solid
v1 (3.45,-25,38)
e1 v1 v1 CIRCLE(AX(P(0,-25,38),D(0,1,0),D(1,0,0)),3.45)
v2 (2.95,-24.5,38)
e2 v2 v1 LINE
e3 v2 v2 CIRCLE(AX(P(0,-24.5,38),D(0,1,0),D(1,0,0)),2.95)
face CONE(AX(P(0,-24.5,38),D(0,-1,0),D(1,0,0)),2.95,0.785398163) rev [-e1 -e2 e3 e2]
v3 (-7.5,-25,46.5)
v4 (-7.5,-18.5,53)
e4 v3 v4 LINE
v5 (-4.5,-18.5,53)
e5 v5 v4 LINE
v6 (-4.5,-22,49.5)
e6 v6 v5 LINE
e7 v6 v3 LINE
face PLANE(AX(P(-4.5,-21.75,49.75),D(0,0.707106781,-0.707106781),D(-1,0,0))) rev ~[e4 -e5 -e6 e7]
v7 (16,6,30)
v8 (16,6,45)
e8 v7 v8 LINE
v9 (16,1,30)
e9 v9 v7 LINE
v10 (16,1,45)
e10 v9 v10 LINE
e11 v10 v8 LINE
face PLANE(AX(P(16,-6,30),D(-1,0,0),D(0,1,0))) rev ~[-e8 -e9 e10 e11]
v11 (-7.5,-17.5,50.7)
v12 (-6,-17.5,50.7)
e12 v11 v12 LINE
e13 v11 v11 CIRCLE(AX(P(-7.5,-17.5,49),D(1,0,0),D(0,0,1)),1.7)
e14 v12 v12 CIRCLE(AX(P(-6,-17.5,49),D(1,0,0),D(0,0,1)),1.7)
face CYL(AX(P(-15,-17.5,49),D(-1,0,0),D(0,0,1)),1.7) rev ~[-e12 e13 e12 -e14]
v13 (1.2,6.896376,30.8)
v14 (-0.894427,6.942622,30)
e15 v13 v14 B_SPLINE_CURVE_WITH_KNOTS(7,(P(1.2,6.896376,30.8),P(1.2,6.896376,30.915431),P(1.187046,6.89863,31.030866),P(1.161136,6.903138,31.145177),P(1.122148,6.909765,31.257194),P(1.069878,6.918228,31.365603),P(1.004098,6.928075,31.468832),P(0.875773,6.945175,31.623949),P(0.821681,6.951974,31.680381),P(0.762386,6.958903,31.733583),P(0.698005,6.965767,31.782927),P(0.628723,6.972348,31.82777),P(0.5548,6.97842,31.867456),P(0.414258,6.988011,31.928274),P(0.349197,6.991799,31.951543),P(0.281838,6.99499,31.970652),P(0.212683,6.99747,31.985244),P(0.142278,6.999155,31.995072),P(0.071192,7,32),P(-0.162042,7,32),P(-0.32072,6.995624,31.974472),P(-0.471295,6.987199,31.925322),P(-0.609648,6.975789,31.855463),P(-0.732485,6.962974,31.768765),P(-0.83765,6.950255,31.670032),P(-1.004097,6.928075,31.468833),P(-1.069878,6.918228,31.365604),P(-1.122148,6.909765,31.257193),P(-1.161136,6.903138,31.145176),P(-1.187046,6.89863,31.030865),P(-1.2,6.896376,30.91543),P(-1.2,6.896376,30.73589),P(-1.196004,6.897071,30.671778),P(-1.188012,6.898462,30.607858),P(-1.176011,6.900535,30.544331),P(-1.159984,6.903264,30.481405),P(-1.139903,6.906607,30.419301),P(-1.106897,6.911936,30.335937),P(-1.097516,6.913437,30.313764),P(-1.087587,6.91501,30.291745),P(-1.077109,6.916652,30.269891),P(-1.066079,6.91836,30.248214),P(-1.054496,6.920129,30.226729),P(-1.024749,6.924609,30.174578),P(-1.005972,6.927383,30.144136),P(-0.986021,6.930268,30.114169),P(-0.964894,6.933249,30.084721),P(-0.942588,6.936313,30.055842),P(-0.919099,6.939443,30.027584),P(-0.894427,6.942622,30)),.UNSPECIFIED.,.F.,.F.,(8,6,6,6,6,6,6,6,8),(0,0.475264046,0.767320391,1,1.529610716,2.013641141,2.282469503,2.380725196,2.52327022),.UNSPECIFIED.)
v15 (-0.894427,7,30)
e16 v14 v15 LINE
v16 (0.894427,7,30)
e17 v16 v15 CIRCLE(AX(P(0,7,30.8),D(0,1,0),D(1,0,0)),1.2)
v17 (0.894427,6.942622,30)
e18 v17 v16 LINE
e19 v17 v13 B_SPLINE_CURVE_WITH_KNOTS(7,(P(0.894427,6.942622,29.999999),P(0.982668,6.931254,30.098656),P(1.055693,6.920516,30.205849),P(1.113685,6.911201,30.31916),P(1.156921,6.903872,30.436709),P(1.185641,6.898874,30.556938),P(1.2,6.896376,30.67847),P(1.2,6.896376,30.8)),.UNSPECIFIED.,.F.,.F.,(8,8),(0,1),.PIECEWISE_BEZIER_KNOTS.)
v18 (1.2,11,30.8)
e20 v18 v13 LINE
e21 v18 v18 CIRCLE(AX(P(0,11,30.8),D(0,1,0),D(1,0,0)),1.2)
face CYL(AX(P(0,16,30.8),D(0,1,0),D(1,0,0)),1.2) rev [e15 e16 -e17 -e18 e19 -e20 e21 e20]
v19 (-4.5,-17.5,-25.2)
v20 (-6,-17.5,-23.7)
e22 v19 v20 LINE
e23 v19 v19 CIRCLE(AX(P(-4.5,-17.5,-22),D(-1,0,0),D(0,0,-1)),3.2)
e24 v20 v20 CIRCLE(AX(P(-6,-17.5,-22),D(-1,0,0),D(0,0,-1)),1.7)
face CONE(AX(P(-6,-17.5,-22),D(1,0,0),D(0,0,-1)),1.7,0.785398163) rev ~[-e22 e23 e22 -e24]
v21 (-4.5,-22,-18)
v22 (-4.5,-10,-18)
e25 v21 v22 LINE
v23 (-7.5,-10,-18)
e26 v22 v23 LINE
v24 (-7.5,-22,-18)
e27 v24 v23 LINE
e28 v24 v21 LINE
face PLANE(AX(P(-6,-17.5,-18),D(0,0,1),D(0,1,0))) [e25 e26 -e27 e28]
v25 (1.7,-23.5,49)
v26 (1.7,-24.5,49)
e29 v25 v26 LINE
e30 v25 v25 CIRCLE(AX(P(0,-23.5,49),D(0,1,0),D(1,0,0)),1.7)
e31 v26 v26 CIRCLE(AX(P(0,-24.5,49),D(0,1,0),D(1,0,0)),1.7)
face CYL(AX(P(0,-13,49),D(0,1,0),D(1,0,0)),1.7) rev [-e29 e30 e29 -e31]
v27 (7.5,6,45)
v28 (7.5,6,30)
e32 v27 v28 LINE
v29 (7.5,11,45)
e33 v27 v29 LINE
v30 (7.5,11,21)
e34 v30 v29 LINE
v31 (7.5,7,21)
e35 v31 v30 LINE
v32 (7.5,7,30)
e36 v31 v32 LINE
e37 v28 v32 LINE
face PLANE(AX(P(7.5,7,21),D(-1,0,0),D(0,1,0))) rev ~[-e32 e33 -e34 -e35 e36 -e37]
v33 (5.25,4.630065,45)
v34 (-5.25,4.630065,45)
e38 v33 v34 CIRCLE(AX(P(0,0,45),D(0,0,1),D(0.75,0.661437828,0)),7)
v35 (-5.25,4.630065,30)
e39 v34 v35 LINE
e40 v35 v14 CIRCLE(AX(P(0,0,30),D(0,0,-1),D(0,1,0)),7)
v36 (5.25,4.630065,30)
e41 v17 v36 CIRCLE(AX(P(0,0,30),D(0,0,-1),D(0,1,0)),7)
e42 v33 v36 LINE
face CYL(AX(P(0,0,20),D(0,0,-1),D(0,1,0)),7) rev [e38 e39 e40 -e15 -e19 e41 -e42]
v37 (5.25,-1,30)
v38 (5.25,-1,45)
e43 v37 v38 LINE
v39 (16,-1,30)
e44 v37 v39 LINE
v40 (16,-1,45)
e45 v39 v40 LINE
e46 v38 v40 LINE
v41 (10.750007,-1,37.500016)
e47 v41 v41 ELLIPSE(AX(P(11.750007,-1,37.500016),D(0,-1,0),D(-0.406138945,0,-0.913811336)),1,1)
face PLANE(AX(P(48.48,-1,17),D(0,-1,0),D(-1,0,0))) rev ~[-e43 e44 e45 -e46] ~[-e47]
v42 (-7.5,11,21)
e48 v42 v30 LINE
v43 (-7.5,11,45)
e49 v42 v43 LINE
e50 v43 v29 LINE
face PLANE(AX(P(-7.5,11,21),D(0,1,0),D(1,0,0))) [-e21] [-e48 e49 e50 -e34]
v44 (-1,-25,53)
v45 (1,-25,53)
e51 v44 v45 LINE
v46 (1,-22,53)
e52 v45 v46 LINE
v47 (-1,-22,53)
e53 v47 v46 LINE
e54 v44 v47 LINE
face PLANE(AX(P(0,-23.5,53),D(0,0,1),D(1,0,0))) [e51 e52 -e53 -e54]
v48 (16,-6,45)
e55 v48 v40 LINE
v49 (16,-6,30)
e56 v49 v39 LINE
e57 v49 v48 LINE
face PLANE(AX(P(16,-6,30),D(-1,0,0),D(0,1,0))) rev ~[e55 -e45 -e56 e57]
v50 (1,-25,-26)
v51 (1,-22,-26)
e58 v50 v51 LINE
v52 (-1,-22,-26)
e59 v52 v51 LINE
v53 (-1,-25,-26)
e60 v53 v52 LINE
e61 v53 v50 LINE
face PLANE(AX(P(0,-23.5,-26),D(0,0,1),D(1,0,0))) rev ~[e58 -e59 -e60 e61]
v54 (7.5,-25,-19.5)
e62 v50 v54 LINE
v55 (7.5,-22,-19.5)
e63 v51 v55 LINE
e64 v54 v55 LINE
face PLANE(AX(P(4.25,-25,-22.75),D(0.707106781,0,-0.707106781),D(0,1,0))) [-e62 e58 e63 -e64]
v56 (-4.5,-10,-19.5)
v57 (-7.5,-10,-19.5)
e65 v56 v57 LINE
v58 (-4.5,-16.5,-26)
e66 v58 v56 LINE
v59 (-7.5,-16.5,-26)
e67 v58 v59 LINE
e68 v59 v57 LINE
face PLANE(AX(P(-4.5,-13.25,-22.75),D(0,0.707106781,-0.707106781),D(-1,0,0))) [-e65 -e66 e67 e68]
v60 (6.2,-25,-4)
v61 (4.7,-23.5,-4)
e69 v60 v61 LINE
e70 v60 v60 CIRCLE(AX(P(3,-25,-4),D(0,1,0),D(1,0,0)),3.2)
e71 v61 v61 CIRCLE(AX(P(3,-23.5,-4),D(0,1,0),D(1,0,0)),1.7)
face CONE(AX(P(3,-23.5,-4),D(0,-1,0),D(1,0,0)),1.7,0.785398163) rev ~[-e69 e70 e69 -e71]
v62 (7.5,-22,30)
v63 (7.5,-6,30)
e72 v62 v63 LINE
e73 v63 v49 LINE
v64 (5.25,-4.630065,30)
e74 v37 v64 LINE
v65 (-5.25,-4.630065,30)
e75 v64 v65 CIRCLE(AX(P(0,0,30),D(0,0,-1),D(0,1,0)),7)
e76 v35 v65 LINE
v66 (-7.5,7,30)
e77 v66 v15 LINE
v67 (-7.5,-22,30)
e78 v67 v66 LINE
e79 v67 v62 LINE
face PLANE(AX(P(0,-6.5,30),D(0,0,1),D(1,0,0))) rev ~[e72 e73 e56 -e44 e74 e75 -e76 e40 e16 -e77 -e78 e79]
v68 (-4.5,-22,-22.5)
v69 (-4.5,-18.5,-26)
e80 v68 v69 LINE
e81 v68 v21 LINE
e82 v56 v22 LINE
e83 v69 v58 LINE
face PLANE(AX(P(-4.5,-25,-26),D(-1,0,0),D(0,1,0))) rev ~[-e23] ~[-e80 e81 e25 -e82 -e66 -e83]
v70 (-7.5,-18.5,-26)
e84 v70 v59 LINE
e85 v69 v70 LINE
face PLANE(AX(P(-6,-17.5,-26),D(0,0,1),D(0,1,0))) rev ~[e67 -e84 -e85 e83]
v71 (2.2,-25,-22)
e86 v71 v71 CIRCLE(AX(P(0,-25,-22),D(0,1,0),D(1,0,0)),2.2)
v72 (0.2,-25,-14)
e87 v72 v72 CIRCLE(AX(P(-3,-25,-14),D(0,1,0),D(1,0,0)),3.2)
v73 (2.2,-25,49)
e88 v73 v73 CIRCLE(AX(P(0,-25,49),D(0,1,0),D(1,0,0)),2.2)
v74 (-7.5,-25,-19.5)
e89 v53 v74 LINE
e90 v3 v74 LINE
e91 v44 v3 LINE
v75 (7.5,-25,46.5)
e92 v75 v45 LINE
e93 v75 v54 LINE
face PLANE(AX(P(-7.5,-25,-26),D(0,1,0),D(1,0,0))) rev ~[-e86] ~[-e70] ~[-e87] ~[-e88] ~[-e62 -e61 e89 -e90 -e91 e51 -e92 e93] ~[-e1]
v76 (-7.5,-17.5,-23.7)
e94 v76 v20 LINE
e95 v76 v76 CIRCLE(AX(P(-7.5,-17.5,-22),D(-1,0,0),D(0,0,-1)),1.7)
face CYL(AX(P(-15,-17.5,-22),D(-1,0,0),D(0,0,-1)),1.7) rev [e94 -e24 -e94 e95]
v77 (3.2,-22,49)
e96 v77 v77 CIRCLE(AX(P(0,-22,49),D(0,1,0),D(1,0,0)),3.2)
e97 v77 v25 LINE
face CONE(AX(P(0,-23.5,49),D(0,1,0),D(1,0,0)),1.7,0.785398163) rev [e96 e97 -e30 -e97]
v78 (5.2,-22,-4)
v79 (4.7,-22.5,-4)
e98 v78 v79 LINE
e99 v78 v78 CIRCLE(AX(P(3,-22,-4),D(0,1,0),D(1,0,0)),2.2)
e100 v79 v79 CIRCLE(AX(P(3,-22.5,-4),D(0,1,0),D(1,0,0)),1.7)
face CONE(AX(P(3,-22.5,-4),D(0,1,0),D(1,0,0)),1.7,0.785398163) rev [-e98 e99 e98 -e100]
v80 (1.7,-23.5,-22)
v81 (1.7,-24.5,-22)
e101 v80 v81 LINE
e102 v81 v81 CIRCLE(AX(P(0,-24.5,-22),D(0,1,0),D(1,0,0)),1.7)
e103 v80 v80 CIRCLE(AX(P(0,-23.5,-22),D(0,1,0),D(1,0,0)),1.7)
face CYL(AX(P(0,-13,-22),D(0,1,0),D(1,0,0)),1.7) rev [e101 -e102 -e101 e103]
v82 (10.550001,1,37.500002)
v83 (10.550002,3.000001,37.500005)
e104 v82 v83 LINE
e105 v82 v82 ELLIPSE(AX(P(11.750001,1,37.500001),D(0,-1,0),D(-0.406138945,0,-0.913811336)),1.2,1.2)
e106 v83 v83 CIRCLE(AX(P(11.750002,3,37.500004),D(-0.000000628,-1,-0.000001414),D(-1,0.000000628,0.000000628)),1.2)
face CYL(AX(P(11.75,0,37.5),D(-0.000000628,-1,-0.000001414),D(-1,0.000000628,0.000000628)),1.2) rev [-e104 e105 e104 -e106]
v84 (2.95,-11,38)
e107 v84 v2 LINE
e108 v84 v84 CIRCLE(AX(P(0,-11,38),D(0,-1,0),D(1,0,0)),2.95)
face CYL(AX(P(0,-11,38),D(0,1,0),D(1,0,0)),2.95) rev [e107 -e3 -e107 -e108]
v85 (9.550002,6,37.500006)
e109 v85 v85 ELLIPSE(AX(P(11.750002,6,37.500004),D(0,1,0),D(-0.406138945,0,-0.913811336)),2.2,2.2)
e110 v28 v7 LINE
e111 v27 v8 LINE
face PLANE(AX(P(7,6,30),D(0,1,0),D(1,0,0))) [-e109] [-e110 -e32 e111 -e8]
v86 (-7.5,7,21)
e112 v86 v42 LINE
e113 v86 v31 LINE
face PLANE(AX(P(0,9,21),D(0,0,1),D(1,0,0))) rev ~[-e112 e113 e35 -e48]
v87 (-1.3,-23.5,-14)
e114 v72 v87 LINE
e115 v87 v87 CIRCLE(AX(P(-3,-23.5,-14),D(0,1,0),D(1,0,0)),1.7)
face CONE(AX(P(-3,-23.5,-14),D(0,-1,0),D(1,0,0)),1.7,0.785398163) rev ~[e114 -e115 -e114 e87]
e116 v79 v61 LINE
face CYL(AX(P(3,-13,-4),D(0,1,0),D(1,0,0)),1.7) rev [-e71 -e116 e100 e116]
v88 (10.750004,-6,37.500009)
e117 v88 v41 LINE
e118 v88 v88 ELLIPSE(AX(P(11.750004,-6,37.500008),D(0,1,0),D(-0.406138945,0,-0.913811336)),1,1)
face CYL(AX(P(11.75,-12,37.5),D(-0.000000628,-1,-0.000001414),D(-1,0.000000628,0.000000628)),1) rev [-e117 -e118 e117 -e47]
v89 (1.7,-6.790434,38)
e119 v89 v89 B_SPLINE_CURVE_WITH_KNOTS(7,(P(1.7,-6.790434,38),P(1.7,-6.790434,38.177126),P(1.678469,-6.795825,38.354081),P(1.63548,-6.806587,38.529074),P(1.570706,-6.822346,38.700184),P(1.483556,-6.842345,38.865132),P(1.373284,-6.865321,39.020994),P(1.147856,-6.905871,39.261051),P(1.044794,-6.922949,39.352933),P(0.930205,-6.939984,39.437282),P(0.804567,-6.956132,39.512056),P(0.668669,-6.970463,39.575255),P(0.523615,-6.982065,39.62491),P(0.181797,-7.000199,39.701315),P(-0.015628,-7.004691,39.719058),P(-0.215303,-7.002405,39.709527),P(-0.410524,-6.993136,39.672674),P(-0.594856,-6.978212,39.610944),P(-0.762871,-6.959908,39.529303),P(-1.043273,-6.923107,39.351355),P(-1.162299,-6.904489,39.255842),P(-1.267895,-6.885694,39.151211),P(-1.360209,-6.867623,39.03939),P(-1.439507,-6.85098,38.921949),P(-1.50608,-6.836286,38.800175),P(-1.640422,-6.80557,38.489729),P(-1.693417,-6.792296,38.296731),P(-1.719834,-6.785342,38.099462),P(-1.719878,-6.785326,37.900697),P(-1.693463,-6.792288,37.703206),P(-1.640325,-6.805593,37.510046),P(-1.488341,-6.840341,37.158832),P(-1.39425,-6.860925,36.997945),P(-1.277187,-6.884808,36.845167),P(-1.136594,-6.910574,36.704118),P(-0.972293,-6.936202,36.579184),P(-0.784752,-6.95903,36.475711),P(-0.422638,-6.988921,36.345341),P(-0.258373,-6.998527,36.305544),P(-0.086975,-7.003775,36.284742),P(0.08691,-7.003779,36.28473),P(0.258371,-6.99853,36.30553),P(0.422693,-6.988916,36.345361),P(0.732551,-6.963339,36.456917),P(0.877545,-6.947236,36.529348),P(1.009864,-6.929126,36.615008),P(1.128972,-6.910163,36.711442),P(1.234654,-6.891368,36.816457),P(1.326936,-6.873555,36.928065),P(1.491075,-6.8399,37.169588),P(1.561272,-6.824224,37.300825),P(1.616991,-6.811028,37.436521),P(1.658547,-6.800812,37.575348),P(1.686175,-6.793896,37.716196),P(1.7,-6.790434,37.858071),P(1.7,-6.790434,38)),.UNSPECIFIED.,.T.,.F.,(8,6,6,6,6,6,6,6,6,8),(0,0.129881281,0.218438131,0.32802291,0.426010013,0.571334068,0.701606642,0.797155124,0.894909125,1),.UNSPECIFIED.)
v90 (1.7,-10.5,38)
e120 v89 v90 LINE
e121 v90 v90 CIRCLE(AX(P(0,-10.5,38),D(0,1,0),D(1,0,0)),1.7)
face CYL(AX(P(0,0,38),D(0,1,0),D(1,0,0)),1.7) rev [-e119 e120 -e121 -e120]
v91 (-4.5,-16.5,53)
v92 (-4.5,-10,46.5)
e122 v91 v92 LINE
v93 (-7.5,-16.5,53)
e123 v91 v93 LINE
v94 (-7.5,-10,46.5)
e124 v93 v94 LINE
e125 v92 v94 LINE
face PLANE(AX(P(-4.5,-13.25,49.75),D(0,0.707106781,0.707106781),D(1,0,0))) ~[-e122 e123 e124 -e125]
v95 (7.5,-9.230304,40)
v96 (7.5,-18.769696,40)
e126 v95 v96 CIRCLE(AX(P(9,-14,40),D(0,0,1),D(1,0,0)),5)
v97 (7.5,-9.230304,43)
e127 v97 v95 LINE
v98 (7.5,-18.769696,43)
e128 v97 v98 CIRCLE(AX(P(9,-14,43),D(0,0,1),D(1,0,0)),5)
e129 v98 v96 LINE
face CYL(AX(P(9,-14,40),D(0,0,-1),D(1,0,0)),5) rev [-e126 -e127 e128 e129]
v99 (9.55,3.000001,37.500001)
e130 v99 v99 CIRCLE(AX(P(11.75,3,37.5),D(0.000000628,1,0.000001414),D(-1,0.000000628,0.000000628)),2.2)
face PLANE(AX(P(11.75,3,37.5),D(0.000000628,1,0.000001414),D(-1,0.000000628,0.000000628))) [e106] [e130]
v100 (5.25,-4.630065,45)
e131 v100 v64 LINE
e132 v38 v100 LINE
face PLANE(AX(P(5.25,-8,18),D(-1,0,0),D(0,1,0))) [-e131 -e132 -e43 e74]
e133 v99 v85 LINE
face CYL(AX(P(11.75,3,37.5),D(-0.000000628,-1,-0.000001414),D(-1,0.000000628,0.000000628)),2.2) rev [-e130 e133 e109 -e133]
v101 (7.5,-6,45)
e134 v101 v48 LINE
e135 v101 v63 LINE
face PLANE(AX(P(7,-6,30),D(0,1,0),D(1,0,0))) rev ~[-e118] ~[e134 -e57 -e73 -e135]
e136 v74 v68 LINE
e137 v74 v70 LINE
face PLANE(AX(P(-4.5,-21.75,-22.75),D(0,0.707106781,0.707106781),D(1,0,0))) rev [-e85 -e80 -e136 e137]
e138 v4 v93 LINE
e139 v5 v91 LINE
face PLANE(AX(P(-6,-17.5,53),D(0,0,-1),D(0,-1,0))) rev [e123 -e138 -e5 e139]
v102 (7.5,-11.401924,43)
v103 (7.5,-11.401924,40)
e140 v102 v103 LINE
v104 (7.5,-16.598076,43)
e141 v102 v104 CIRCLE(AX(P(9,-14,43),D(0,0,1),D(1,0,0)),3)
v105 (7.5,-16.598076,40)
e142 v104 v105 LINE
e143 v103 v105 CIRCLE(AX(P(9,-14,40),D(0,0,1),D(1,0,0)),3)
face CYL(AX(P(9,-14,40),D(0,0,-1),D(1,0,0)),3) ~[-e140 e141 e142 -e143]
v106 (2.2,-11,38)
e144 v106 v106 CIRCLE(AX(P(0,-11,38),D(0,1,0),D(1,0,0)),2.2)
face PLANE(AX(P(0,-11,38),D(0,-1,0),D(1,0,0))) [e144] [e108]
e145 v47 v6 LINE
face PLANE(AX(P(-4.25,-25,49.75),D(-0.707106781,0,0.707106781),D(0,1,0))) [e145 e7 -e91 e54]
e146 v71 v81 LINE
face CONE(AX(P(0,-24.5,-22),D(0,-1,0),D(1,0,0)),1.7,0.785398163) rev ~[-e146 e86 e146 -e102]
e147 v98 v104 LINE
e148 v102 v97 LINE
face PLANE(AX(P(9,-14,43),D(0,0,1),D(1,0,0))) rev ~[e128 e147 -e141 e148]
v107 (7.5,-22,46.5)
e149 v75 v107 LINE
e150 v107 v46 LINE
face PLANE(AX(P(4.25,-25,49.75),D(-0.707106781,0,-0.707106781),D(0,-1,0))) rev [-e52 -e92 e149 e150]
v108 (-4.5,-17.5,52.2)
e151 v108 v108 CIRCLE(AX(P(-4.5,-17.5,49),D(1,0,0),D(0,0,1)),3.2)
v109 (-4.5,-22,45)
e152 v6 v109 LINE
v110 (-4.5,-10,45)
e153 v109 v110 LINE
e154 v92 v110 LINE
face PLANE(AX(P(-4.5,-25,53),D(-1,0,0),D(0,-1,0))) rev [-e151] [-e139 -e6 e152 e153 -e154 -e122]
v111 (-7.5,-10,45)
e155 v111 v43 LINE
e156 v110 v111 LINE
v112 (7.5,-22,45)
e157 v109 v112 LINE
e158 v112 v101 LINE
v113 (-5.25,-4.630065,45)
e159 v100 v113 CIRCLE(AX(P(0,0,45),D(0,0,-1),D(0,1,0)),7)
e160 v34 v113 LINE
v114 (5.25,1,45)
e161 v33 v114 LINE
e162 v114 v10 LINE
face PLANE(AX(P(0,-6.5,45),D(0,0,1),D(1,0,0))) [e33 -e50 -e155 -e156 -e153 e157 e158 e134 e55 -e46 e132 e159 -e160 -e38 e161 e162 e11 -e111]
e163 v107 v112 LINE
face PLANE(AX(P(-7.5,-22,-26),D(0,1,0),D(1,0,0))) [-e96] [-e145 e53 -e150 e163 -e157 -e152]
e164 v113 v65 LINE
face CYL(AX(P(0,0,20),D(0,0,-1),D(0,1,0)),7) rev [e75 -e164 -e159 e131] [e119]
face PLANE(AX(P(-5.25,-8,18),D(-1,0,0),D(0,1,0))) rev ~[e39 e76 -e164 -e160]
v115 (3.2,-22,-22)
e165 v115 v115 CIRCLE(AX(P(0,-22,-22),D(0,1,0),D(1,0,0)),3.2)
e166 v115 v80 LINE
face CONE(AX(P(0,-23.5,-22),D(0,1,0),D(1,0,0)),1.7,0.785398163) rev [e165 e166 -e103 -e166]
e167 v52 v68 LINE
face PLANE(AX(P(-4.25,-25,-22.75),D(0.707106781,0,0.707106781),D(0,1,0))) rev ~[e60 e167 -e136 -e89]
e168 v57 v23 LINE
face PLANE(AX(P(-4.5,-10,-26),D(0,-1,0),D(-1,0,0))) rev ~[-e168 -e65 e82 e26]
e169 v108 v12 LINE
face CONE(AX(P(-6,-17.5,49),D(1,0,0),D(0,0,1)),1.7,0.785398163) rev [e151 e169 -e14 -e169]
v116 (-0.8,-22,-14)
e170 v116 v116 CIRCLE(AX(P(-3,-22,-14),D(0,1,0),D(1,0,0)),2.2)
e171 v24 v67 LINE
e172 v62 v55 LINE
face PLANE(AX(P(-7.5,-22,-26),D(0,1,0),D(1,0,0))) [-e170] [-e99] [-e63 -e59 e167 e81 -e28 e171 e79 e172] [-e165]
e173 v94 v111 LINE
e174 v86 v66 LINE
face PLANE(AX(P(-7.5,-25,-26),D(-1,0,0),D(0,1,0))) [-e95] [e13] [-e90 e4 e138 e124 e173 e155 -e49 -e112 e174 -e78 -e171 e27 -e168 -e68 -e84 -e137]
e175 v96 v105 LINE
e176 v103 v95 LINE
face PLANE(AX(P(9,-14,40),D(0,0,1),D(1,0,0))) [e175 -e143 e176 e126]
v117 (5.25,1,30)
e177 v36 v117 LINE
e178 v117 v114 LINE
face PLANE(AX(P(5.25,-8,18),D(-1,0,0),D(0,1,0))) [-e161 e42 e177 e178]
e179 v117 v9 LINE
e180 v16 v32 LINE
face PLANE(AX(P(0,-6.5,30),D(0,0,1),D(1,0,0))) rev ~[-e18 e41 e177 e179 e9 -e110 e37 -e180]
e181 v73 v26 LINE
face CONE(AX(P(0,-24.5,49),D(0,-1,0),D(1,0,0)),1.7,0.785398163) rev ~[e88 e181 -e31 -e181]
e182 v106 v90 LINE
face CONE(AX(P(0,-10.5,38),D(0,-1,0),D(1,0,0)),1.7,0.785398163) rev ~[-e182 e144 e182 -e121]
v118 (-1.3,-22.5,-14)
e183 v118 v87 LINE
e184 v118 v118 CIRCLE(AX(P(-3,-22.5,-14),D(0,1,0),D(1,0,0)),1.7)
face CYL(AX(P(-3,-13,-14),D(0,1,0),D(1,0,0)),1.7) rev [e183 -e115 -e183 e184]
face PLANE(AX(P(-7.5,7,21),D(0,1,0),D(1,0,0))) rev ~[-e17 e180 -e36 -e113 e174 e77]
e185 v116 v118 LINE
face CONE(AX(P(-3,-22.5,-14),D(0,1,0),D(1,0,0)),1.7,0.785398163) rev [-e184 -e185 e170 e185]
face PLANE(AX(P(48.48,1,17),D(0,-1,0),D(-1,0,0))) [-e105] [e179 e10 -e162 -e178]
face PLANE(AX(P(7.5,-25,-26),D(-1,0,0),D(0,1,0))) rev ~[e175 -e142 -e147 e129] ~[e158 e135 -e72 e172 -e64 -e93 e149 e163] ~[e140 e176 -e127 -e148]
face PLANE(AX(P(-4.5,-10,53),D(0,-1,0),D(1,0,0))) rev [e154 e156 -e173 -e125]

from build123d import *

# Parameters (mm, degrees)
CYLINDER102_R               = 1.7
CYLINDER102_DEPTH           = 21
BOX406008019_W              = 15
BOX406008019_H              = 3
BOX406008019_DEPTH          = 8
CHAMFER011_SIZE             = 6.5
CHAMFER012_SIZE             = 1.5
CYLINDER103_R               = 1.7
CYLINDER103_DEPTH           = 21
BOX406008020_W              = 15
BOX406008020_H              = 3
BOX406008020_DEPTH          = 8
CHAMFER013_SIZE             = 6.5
CHAMFER014_SIZE             = 1.5
CYLINDER101_R               = 2.95
CYLINDER101_DEPTH           = 20
CYLINDER100_R               = 1.7
CYLINDER100_DEPTH           = 28
CYLINDER099_R               = 3
CYLINDER099_DEPTH           = 3
CYLINDER098_R               = 5
CYLINDER098_DEPTH           = 3
CYLINDER090_R               = 1.2
CYLINDER090_DEPTH           = 13
CYLINDER091_R               = 1
CYLINDER091_DEPTH           = 12
CYLINDER091_ROLL_ANGLE      = 89.999919
CYLINDER091_PITCH_ANGLE     = -3.6e-05
CYLINDER091_PLACEMENT_ANGLE = 179.999964
CYLINDER069_R               = 2.2
CYLINDER069_DEPTH           = 12
CYLINDER069_ROLL_ANGLE      = 89.999919
CYLINDER069_PITCH_ANGLE     = -3.6e-05
CYLINDER069_PLACEMENT_ANGLE = 179.999964
CYLINDER068_R               = 1.2
CYLINDER068_DEPTH           = 12
CYLINDER068_ROLL_ANGLE      = 89.999919
CYLINDER068_PITCH_ANGLE     = -3.6e-05
CYLINDER068_PLACEMENT_ANGLE = 179.999964
BOX406016_W                 = 49
BOX406016_H                 = 2
BOX406016_DEPTH             = 32
BOX406008016_W              = 9
BOX406008016_H              = 12
BOX406008016_DEPTH          = 15
BOX406017_W                 = 16
BOX406017_H                 = 10.5
BOX406017_DEPTH             = 28
CYLINDER067_R               = 7
CYLINDER067_DEPTH           = 26
COMMON004_PLACEMENT_ANGLE   = 90
BOX406008015_W              = 15
BOX406008015_H              = 31
BOX406008015_DEPTH          = 15
BOX406008017_W              = 15
BOX406008017_H              = 4
BOX406008017_DEPTH          = 24
CYLINDER096_R               = 1.7
CYLINDER096_DEPTH           = 21
BOX_W                       = 15
BOX_H                       = 3
BOX_DEPTH                   = 8
CYLINDER097_R               = 1.7
CYLINDER097_DEPTH           = 21
BOX406008018_W              = 15
BOX406008018_H              = 3
BOX406008018_DEPTH          = 8
CHAMFER005_SIZE             = 1.5
CYLINDER093_R               = 1.7
CYLINDER093_DEPTH           = 21
CYLINDER092_R               = 1.7
CYLINDER092_DEPTH           = 21
BOX406008014_W              = 15
BOX406008014_H              = 3
BOX406008014_DEPTH          = 63
CHAMFER006_SIZE             = 1.5
CHAMFER007_SIZE             = 6.5
CHAMFER009_SIZE             = 0.5
CHAMFER010_SIZE             = 0.5
CHAMFER015_SIZE             = 0.5
CHAMFER016_SIZE             = 0.5


with BuildPart() as cylinder102:
    # Cylinder102 → Cylinder102 (new body)
    with BuildSketch(Plane(origin=(-15, -17.5, -22), x_dir=(0, 0, -1), z_dir=(1, 0, 0))):
        Circle(CYLINDER102_R)
    extrude(amount=CYLINDER102_DEPTH)


with BuildPart() as chamfer012_mount_hole:
    # Box406008019 → Box406008019 (new body)
    with BuildSketch(Plane(origin=(-4.5, -25, -26), x_dir=(0, 1, 0), z_dir=(0, 0, 1))):
        with Locations((7.5, 1.5)):
            Rectangle(BOX406008019_W, BOX406008019_H)
    extrude(amount=BOX406008019_DEPTH)

    # Cut083: cut Cylinder102
    add(cylinder102.part, mode=Mode.SUBTRACT)

    # Chamfer011
    chamfer011_edges = [chamfer012_mount_hole.edges().sort_by_distance(p)[0] for p in [
        (-6, -25, -26),
        (-6, -10, -26),
    ]]
    chamfer(chamfer011_edges, length=CHAMFER011_SIZE)

    # Chamfer012
    chamfer012_edges = [chamfer012_mount_hole.edges().sort_by_distance(p)[0] for p in [
        (-4.5, -17.5, -20.3),
    ]]
    chamfer(chamfer012_edges, length=CHAMFER012_SIZE)


with BuildPart() as cylinder103:
    # Cylinder103 → Cylinder103 (new body)
    with BuildSketch(Plane(origin=(-15, -17.5, -22), x_dir=(0, 0, -1), z_dir=(1, 0, 0))):
        Circle(CYLINDER103_R)
    extrude(amount=CYLINDER103_DEPTH)


with BuildPart() as chamfer012_mount_hole001:
    # Box406008020 → Box406008020 (new body)
    with BuildSketch(Plane(origin=(-4.5, -25, -26), x_dir=(0, 1, 0), z_dir=(0, 0, 1))):
        with Locations((7.5, 1.5)):
            Rectangle(BOX406008020_W, BOX406008020_H)
    extrude(amount=BOX406008020_DEPTH)

    # Cut084: cut Cylinder103
    add(cylinder103.part, mode=Mode.SUBTRACT)

    # Chamfer013
    chamfer013_edges = [chamfer012_mount_hole001.edges().sort_by_distance(p)[0] for p in [
        (-6, -25, -26),
        (-6, -10, -26),
    ]]
    chamfer(chamfer013_edges, length=CHAMFER013_SIZE)

    # Chamfer014
    chamfer014_edges = [chamfer012_mount_hole001.edges().sort_by_distance(p)[0] for p in [
        (-4.5, -17.5, -20.3),
    ]]
    chamfer(chamfer014_edges, length=CHAMFER014_SIZE)


with BuildPart() as fusion103077013004017019:
    # Part__Mirroring001: instance of Chamfer012 Mount Hole001
    add(chamfer012_mount_hole001.part.mirror(Plane(origin=(0, 0, 0), x_dir=(0, 1, 0), z_dir=(0, 0, 1))))


with BuildPart() as fusion103077013004017019_1:
    # Part__Mirroring001 placement: moved
    add(fusion103077013004017019.part.moved(Location((0, 0, 27))))

    # Fusion103077013004017019: union Chamfer012 Mount Hole
    add(chamfer012_mount_hole.part)


with BuildPart() as cylinder101:
    # Cylinder101 → Cylinder101 (new body)
    with BuildSketch(Plane(origin=(0, -11, 38), x_dir=(1, 0, 0), z_dir=(0, -1, 0))):
        Circle(CYLINDER101_R)
    extrude(amount=CYLINDER101_DEPTH)


with BuildPart() as fusion103077013004017018:
    # Cylinder100 → Cylinder100 (new body)
    with BuildSketch(Plane(origin=(0, 0, 38), x_dir=(1, 0, 0), z_dir=(0, -1, 0))):
        Circle(CYLINDER100_R)
    extrude(amount=CYLINDER100_DEPTH)

    # Fusion103077013004017018: union Cylinder101
    add(cylinder101.part)


with BuildPart() as cylinder099:
    # Cylinder099 → Cylinder099 (new body)
    with BuildSketch(Plane(origin=(-9, -9, 36), x_dir=(1, 0, 0), z_dir=(0, 0, 1))):
        Circle(CYLINDER099_R)
    extrude(amount=CYLINDER099_DEPTH)


with BuildPart() as cable_tie_hole:
    # Cylinder098 → Cylinder098 (new body)
    with BuildSketch(Plane(origin=(-9, -9, 36), x_dir=(1, 0, 0), z_dir=(0, 0, 1))):
        Circle(CYLINDER098_R)
    extrude(amount=CYLINDER098_DEPTH)

    # Cut081: cut Cylinder099
    add(cylinder099.part, mode=Mode.SUBTRACT)


with BuildPart() as cable_tie_hole_1:
    # Cut081 placement: moved
    add(cable_tie_hole.part.moved(Location((18, -5, 4))))


with BuildPart() as cylinder084:
    # Cylinder090 → Cylinder090 (new body)
    with BuildSketch(Plane(origin=(0, 16, 35.8), x_dir=(1, 0, 0), z_dir=(0, -1, 0))):
        Circle(CYLINDER090_R)
    extrude(amount=CYLINDER090_DEPTH)


with BuildPart() as cylinder091:
    # Cylinder091 → Cylinder091 (new body)
    with BuildSketch(Plane.XY):
        Circle(CYLINDER091_R)
    extrude(amount=CYLINDER091_DEPTH)


with BuildPart() as cylinder091_1:
    # Cylinder091 roll: moved
    add(cylinder091.part.rotate(Axis((0, 0, 0), (1, 0, 0)), CYLINDER091_ROLL_ANGLE))


with BuildPart() as cylinder091_2:
    # Cylinder091 pitch: moved
    add(cylinder091_1.part.rotate(Axis((0, 0, 0), (0, 1, 0)), CYLINDER091_PITCH_ANGLE))


with BuildPart() as cylinder091_3:
    # Cylinder091 placement: moved
    add(cylinder091_2.part.moved(Location((11.75, -12, 42.5))).rotate(Axis((11.75, -12, 42.5), (0, 0, 1)), CYLINDER091_PLACEMENT_ANGLE))


with BuildPart() as cylinder069:
    # Cylinder069 → Cylinder069 (new body)
    with BuildSketch(Plane.XY):
        Circle(CYLINDER069_R)
    extrude(amount=CYLINDER069_DEPTH)


with BuildPart() as cylinder069_1:
    # Cylinder069 roll: moved
    add(cylinder069.part.rotate(Axis((0, 0, 0), (1, 0, 0)), CYLINDER069_ROLL_ANGLE))


with BuildPart() as cylinder069_2:
    # Cylinder069 pitch: moved
    add(cylinder069_1.part.rotate(Axis((0, 0, 0), (0, 1, 0)), CYLINDER069_PITCH_ANGLE))


with BuildPart() as cylinder069_3:
    # Cylinder069 placement: moved
    add(cylinder069_2.part.moved(Location((11.75, 3, 42.5))).rotate(Axis((11.75, 3, 42.5), (0, 0, 1)), CYLINDER069_PLACEMENT_ANGLE))


with BuildPart() as fusion103077013004017011:
    # Cylinder068 → Cylinder068 (new body)
    with BuildSketch(Plane.XY):
        Circle(CYLINDER068_R)
    extrude(amount=CYLINDER068_DEPTH)


with BuildPart() as fusion103077013004017011_1:
    # Cylinder068 roll: moved
    add(fusion103077013004017011.part.rotate(Axis((0, 0, 0), (1, 0, 0)), CYLINDER068_ROLL_ANGLE))


with BuildPart() as fusion103077013004017011_2:
    # Cylinder068 pitch: moved
    add(fusion103077013004017011_1.part.rotate(Axis((0, 0, 0), (0, 1, 0)), CYLINDER068_PITCH_ANGLE))


with BuildPart() as fusion103077013004017011_3:
    # Cylinder068 placement: moved
    add(fusion103077013004017011_2.part.moved(Location((11.75, 0, 42.5))).rotate(Axis((11.75, 0, 42.5), (0, 0, 1)), CYLINDER068_PLACEMENT_ANGLE))

    # Fusion103077013: union Cylinder069
    add(cylinder069_3.part)

    # Fusion103077013004017011: union Cylinder091
    add(cylinder091_3.part)


with BuildPart() as clamp_slot:
    # Box406016 → Box406016 (new body)
    with BuildSketch(Plane(origin=(48.48, 1, 22), x_dir=(-1, 0, 0), z_dir=(0, 0, 1))):
        with Locations((24.5, 1)):
            Rectangle(BOX406016_W, BOX406016_H)
    extrude(amount=BOX406016_DEPTH)


with BuildPart() as cube351:
    # Box406008016 → Box406008016 (new body)
    with BuildSketch(Plane(origin=(7, -6, 35), x_dir=(1, 0, 0), z_dir=(0, 0, 1))):
        with Locations((4.5, 6)):
            Rectangle(BOX406008016_W, BOX406008016_H)
    extrude(amount=BOX406008016_DEPTH)


with BuildPart() as gearbox001:
    # Box406017 → Box406017 (new body)
    with BuildSketch(Plane(origin=(-8, -5.25, 18), x_dir=(1, 0, 0), z_dir=(0, 0, 1))):
        with Locations((8, 5.25)):
            Rectangle(BOX406017_W, BOX406017_H)
    extrude(amount=BOX406017_DEPTH)


with BuildPart() as motor_hole:
    # Cylinder067 → Cylinder067 (new body)
    with BuildSketch(Plane.XY.offset(20)):
        Circle(CYLINDER067_R)
    extrude(amount=CYLINDER067_DEPTH)

    # Common004: intersect gearbox001
    add(gearbox001.part, mode=Mode.INTERSECT)


with BuildPart() as motor_hole_1:
    # Common004 placement: moved
    add(motor_hole.part.moved(Location((0, 0, 5))).rotate(Axis((0, 0, 5), (0, 0, 1)), COMMON004_PLACEMENT_ANGLE))


with BuildPart() as cut075:
    # Box406008015 → Box406008015 (new body)
    with BuildSketch(Plane(origin=(-7.5, -22, 35), x_dir=(1, 0, 0), z_dir=(0, 0, 1))):
        with Locations((7.5, 15.5)):
            Rectangle(BOX406008015_W, BOX406008015_H)
    extrude(amount=BOX406008015_DEPTH)

    # Cut073: cut motor-hole
    add(motor_hole_1.part, mode=Mode.SUBTRACT)

    # Fusion103077013004017010: union Cube351
    add(cube351.part)

    # Cut074: cut clamp-slot
    add(clamp_slot.part, mode=Mode.SUBTRACT)

    # Cut075: cut Fusion103077013004017011
    add(fusion103077013004017011_3.part, mode=Mode.SUBTRACT)


with BuildPart() as cut082:
    # Box406008017 → Box406008017 (new body)
    with BuildSketch(Plane(origin=(-7.5, 7, 26), x_dir=(1, 0, 0), z_dir=(0, 0, 1))):
        with Locations((7.5, 2)):
            Rectangle(BOX406008017_W, BOX406008017_H)
    extrude(amount=BOX406008017_DEPTH)

    # Fusion103077013004017012: union Cut075
    add(cut075.part)

    # Cut076: cut Cylinder084
    add(cylinder084.part, mode=Mode.SUBTRACT)


with BuildPart() as cut082_1:
    # Cut076 placement: moved
    add(cut082.part.moved(Location((0, 0, -5))))

    # Cut082: cut Cable tie Hole
    add(cable_tie_hole_1.part, mode=Mode.SUBTRACT)


with BuildPart() as cylinder096:
    # Cylinder096 → Cylinder096 (new body)
    with BuildSketch(Plane(origin=(0, -13, 49), x_dir=(1, 0, 0), z_dir=(0, -1, 0))):
        Circle(CYLINDER096_R)
    extrude(amount=CYLINDER096_DEPTH)


with BuildPart() as cut080:
    # Box → Box (new body)
    with BuildSketch(Plane(origin=(-7.5, -25, 45), x_dir=(1, 0, 0), z_dir=(0, 0, 1))):
        with Locations((7.5, 1.5)):
            Rectangle(BOX_W, BOX_H)
    extrude(amount=BOX_DEPTH)

    # Cut080: cut Cylinder096
    add(cylinder096.part, mode=Mode.SUBTRACT)


with BuildPart() as cylinder097:
    # Cylinder097 → Cylinder097 (new body)
    with BuildSketch(Plane(origin=(0, -13, -22), x_dir=(1, 0, 0), z_dir=(0, -1, 0))):
        Circle(CYLINDER097_R)
    extrude(amount=CYLINDER097_DEPTH)


with BuildPart() as chamfer005_mount_holes:
    # Box406008018 → Box406008018 (new body)
    with BuildSketch(Plane(origin=(-7.5, -25, -26), x_dir=(1, 0, 0), z_dir=(0, 0, 1))):
        with Locations((7.5, 1.5)):
            Rectangle(BOX406008018_W, BOX406008018_H)
    extrude(amount=BOX406008018_DEPTH)

    # Cut079: cut Cylinder097
    add(cylinder097.part, mode=Mode.SUBTRACT)

    # Fusion103077013004017015: union Cut080
    add(cut080.part)

    # Chamfer005
    chamfer005_edges = [chamfer005_mount_holes.edges().sort_by_distance(p)[0] for p in [
        (-1.7, -22, -22),
        (-1.7, -22, 49),
    ]]
    chamfer(chamfer005_edges, length=CHAMFER005_SIZE)


with BuildPart() as cylinder093:
    # Cylinder093 → Cylinder093 (new body)
    with BuildSketch(Plane(origin=(3, -13, -4), x_dir=(1, 0, 0), z_dir=(0, -1, 0))):
        Circle(CYLINDER093_R)
    extrude(amount=CYLINDER093_DEPTH)


with BuildPart() as fusion103077013004017013:
    # Cylinder092 → Cylinder092 (new body)
    with BuildSketch(Plane(origin=(-3, -13, -14), x_dir=(1, 0, 0), z_dir=(0, -1, 0))):
        Circle(CYLINDER092_R)
    extrude(amount=CYLINDER092_DEPTH)

    # Fusion103077013004017013: union Cylinder093
    add(cylinder093.part)


with BuildPart() as chamfer016:
    # Box406008014 → Box406008014 (new body)
    with BuildSketch(Plane(origin=(-7.5, -25, -18), x_dir=(1, 0, 0), z_dir=(0, 0, 1))):
        with Locations((7.5, 1.5)):
            Rectangle(BOX406008014_W, BOX406008014_H)
    extrude(amount=BOX406008014_DEPTH)

    # Cut077: cut Fusion103077013004017013
    add(fusion103077013004017013.part, mode=Mode.SUBTRACT)

    # Chamfer006
    chamfer006_edges = [chamfer016.edges().sort_by_distance(p)[0] for p in [
        (-4.7, -25, -14),
        (1.3, -25, -4),
    ]]
    chamfer(chamfer006_edges, length=CHAMFER006_SIZE)

    # Fusion103077013004017016: union Chamfer005 mount holes
    add(chamfer005_mount_holes.part)

    # Chamfer007
    chamfer007_edges = [chamfer016.edges().sort_by_distance(p)[0] for p in [
        (-7.5, -23.5, -26),
        (7.5, -23.5, -26),
        (7.5, -23.5, 53),
        (-7.5, -23.5, 53),
    ]]
    chamfer(chamfer007_edges, length=CHAMFER007_SIZE)

    # Fusion103077013004017017: union Cut082
    add(cut082_1.part)

    # Chamfer009
    chamfer009_edges = [chamfer016.edges().sort_by_distance(p)[0] for p in [
        (-4.7, -22, -14),
        (1.3, -22, -4),
    ]]
    chamfer(chamfer009_edges, length=CHAMFER009_SIZE)

    # Chamfer010
    chamfer010_edges = [chamfer016.edges().sort_by_distance(p)[0] for p in [
        (-1.7, -25, -22),
        (-1.7, -25, 49),
    ]]
    chamfer(chamfer010_edges, length=CHAMFER010_SIZE)

    # Cut085: cut Fusion103077013004017018
    add(fusion103077013004017018.part, mode=Mode.SUBTRACT)

    # Fusion103077013004017020: union Fusion103077013004017019
    add(fusion103077013004017019_1.part)

    # Chamfer015
    chamfer015_edges = [chamfer016.edges().sort_by_distance(p)[0] for p in [
        (-1.7, -11, 38),
    ]]
    chamfer(chamfer015_edges, length=CHAMFER015_SIZE)

    # Chamfer016
    chamfer016_edges = [chamfer016.edges().sort_by_distance(p)[0] for p in [
        (-2.95, -25, 38),
    ]]
    chamfer(chamfer016_edges, length=CHAMFER016_SIZE)


solid = chamfer016.part
